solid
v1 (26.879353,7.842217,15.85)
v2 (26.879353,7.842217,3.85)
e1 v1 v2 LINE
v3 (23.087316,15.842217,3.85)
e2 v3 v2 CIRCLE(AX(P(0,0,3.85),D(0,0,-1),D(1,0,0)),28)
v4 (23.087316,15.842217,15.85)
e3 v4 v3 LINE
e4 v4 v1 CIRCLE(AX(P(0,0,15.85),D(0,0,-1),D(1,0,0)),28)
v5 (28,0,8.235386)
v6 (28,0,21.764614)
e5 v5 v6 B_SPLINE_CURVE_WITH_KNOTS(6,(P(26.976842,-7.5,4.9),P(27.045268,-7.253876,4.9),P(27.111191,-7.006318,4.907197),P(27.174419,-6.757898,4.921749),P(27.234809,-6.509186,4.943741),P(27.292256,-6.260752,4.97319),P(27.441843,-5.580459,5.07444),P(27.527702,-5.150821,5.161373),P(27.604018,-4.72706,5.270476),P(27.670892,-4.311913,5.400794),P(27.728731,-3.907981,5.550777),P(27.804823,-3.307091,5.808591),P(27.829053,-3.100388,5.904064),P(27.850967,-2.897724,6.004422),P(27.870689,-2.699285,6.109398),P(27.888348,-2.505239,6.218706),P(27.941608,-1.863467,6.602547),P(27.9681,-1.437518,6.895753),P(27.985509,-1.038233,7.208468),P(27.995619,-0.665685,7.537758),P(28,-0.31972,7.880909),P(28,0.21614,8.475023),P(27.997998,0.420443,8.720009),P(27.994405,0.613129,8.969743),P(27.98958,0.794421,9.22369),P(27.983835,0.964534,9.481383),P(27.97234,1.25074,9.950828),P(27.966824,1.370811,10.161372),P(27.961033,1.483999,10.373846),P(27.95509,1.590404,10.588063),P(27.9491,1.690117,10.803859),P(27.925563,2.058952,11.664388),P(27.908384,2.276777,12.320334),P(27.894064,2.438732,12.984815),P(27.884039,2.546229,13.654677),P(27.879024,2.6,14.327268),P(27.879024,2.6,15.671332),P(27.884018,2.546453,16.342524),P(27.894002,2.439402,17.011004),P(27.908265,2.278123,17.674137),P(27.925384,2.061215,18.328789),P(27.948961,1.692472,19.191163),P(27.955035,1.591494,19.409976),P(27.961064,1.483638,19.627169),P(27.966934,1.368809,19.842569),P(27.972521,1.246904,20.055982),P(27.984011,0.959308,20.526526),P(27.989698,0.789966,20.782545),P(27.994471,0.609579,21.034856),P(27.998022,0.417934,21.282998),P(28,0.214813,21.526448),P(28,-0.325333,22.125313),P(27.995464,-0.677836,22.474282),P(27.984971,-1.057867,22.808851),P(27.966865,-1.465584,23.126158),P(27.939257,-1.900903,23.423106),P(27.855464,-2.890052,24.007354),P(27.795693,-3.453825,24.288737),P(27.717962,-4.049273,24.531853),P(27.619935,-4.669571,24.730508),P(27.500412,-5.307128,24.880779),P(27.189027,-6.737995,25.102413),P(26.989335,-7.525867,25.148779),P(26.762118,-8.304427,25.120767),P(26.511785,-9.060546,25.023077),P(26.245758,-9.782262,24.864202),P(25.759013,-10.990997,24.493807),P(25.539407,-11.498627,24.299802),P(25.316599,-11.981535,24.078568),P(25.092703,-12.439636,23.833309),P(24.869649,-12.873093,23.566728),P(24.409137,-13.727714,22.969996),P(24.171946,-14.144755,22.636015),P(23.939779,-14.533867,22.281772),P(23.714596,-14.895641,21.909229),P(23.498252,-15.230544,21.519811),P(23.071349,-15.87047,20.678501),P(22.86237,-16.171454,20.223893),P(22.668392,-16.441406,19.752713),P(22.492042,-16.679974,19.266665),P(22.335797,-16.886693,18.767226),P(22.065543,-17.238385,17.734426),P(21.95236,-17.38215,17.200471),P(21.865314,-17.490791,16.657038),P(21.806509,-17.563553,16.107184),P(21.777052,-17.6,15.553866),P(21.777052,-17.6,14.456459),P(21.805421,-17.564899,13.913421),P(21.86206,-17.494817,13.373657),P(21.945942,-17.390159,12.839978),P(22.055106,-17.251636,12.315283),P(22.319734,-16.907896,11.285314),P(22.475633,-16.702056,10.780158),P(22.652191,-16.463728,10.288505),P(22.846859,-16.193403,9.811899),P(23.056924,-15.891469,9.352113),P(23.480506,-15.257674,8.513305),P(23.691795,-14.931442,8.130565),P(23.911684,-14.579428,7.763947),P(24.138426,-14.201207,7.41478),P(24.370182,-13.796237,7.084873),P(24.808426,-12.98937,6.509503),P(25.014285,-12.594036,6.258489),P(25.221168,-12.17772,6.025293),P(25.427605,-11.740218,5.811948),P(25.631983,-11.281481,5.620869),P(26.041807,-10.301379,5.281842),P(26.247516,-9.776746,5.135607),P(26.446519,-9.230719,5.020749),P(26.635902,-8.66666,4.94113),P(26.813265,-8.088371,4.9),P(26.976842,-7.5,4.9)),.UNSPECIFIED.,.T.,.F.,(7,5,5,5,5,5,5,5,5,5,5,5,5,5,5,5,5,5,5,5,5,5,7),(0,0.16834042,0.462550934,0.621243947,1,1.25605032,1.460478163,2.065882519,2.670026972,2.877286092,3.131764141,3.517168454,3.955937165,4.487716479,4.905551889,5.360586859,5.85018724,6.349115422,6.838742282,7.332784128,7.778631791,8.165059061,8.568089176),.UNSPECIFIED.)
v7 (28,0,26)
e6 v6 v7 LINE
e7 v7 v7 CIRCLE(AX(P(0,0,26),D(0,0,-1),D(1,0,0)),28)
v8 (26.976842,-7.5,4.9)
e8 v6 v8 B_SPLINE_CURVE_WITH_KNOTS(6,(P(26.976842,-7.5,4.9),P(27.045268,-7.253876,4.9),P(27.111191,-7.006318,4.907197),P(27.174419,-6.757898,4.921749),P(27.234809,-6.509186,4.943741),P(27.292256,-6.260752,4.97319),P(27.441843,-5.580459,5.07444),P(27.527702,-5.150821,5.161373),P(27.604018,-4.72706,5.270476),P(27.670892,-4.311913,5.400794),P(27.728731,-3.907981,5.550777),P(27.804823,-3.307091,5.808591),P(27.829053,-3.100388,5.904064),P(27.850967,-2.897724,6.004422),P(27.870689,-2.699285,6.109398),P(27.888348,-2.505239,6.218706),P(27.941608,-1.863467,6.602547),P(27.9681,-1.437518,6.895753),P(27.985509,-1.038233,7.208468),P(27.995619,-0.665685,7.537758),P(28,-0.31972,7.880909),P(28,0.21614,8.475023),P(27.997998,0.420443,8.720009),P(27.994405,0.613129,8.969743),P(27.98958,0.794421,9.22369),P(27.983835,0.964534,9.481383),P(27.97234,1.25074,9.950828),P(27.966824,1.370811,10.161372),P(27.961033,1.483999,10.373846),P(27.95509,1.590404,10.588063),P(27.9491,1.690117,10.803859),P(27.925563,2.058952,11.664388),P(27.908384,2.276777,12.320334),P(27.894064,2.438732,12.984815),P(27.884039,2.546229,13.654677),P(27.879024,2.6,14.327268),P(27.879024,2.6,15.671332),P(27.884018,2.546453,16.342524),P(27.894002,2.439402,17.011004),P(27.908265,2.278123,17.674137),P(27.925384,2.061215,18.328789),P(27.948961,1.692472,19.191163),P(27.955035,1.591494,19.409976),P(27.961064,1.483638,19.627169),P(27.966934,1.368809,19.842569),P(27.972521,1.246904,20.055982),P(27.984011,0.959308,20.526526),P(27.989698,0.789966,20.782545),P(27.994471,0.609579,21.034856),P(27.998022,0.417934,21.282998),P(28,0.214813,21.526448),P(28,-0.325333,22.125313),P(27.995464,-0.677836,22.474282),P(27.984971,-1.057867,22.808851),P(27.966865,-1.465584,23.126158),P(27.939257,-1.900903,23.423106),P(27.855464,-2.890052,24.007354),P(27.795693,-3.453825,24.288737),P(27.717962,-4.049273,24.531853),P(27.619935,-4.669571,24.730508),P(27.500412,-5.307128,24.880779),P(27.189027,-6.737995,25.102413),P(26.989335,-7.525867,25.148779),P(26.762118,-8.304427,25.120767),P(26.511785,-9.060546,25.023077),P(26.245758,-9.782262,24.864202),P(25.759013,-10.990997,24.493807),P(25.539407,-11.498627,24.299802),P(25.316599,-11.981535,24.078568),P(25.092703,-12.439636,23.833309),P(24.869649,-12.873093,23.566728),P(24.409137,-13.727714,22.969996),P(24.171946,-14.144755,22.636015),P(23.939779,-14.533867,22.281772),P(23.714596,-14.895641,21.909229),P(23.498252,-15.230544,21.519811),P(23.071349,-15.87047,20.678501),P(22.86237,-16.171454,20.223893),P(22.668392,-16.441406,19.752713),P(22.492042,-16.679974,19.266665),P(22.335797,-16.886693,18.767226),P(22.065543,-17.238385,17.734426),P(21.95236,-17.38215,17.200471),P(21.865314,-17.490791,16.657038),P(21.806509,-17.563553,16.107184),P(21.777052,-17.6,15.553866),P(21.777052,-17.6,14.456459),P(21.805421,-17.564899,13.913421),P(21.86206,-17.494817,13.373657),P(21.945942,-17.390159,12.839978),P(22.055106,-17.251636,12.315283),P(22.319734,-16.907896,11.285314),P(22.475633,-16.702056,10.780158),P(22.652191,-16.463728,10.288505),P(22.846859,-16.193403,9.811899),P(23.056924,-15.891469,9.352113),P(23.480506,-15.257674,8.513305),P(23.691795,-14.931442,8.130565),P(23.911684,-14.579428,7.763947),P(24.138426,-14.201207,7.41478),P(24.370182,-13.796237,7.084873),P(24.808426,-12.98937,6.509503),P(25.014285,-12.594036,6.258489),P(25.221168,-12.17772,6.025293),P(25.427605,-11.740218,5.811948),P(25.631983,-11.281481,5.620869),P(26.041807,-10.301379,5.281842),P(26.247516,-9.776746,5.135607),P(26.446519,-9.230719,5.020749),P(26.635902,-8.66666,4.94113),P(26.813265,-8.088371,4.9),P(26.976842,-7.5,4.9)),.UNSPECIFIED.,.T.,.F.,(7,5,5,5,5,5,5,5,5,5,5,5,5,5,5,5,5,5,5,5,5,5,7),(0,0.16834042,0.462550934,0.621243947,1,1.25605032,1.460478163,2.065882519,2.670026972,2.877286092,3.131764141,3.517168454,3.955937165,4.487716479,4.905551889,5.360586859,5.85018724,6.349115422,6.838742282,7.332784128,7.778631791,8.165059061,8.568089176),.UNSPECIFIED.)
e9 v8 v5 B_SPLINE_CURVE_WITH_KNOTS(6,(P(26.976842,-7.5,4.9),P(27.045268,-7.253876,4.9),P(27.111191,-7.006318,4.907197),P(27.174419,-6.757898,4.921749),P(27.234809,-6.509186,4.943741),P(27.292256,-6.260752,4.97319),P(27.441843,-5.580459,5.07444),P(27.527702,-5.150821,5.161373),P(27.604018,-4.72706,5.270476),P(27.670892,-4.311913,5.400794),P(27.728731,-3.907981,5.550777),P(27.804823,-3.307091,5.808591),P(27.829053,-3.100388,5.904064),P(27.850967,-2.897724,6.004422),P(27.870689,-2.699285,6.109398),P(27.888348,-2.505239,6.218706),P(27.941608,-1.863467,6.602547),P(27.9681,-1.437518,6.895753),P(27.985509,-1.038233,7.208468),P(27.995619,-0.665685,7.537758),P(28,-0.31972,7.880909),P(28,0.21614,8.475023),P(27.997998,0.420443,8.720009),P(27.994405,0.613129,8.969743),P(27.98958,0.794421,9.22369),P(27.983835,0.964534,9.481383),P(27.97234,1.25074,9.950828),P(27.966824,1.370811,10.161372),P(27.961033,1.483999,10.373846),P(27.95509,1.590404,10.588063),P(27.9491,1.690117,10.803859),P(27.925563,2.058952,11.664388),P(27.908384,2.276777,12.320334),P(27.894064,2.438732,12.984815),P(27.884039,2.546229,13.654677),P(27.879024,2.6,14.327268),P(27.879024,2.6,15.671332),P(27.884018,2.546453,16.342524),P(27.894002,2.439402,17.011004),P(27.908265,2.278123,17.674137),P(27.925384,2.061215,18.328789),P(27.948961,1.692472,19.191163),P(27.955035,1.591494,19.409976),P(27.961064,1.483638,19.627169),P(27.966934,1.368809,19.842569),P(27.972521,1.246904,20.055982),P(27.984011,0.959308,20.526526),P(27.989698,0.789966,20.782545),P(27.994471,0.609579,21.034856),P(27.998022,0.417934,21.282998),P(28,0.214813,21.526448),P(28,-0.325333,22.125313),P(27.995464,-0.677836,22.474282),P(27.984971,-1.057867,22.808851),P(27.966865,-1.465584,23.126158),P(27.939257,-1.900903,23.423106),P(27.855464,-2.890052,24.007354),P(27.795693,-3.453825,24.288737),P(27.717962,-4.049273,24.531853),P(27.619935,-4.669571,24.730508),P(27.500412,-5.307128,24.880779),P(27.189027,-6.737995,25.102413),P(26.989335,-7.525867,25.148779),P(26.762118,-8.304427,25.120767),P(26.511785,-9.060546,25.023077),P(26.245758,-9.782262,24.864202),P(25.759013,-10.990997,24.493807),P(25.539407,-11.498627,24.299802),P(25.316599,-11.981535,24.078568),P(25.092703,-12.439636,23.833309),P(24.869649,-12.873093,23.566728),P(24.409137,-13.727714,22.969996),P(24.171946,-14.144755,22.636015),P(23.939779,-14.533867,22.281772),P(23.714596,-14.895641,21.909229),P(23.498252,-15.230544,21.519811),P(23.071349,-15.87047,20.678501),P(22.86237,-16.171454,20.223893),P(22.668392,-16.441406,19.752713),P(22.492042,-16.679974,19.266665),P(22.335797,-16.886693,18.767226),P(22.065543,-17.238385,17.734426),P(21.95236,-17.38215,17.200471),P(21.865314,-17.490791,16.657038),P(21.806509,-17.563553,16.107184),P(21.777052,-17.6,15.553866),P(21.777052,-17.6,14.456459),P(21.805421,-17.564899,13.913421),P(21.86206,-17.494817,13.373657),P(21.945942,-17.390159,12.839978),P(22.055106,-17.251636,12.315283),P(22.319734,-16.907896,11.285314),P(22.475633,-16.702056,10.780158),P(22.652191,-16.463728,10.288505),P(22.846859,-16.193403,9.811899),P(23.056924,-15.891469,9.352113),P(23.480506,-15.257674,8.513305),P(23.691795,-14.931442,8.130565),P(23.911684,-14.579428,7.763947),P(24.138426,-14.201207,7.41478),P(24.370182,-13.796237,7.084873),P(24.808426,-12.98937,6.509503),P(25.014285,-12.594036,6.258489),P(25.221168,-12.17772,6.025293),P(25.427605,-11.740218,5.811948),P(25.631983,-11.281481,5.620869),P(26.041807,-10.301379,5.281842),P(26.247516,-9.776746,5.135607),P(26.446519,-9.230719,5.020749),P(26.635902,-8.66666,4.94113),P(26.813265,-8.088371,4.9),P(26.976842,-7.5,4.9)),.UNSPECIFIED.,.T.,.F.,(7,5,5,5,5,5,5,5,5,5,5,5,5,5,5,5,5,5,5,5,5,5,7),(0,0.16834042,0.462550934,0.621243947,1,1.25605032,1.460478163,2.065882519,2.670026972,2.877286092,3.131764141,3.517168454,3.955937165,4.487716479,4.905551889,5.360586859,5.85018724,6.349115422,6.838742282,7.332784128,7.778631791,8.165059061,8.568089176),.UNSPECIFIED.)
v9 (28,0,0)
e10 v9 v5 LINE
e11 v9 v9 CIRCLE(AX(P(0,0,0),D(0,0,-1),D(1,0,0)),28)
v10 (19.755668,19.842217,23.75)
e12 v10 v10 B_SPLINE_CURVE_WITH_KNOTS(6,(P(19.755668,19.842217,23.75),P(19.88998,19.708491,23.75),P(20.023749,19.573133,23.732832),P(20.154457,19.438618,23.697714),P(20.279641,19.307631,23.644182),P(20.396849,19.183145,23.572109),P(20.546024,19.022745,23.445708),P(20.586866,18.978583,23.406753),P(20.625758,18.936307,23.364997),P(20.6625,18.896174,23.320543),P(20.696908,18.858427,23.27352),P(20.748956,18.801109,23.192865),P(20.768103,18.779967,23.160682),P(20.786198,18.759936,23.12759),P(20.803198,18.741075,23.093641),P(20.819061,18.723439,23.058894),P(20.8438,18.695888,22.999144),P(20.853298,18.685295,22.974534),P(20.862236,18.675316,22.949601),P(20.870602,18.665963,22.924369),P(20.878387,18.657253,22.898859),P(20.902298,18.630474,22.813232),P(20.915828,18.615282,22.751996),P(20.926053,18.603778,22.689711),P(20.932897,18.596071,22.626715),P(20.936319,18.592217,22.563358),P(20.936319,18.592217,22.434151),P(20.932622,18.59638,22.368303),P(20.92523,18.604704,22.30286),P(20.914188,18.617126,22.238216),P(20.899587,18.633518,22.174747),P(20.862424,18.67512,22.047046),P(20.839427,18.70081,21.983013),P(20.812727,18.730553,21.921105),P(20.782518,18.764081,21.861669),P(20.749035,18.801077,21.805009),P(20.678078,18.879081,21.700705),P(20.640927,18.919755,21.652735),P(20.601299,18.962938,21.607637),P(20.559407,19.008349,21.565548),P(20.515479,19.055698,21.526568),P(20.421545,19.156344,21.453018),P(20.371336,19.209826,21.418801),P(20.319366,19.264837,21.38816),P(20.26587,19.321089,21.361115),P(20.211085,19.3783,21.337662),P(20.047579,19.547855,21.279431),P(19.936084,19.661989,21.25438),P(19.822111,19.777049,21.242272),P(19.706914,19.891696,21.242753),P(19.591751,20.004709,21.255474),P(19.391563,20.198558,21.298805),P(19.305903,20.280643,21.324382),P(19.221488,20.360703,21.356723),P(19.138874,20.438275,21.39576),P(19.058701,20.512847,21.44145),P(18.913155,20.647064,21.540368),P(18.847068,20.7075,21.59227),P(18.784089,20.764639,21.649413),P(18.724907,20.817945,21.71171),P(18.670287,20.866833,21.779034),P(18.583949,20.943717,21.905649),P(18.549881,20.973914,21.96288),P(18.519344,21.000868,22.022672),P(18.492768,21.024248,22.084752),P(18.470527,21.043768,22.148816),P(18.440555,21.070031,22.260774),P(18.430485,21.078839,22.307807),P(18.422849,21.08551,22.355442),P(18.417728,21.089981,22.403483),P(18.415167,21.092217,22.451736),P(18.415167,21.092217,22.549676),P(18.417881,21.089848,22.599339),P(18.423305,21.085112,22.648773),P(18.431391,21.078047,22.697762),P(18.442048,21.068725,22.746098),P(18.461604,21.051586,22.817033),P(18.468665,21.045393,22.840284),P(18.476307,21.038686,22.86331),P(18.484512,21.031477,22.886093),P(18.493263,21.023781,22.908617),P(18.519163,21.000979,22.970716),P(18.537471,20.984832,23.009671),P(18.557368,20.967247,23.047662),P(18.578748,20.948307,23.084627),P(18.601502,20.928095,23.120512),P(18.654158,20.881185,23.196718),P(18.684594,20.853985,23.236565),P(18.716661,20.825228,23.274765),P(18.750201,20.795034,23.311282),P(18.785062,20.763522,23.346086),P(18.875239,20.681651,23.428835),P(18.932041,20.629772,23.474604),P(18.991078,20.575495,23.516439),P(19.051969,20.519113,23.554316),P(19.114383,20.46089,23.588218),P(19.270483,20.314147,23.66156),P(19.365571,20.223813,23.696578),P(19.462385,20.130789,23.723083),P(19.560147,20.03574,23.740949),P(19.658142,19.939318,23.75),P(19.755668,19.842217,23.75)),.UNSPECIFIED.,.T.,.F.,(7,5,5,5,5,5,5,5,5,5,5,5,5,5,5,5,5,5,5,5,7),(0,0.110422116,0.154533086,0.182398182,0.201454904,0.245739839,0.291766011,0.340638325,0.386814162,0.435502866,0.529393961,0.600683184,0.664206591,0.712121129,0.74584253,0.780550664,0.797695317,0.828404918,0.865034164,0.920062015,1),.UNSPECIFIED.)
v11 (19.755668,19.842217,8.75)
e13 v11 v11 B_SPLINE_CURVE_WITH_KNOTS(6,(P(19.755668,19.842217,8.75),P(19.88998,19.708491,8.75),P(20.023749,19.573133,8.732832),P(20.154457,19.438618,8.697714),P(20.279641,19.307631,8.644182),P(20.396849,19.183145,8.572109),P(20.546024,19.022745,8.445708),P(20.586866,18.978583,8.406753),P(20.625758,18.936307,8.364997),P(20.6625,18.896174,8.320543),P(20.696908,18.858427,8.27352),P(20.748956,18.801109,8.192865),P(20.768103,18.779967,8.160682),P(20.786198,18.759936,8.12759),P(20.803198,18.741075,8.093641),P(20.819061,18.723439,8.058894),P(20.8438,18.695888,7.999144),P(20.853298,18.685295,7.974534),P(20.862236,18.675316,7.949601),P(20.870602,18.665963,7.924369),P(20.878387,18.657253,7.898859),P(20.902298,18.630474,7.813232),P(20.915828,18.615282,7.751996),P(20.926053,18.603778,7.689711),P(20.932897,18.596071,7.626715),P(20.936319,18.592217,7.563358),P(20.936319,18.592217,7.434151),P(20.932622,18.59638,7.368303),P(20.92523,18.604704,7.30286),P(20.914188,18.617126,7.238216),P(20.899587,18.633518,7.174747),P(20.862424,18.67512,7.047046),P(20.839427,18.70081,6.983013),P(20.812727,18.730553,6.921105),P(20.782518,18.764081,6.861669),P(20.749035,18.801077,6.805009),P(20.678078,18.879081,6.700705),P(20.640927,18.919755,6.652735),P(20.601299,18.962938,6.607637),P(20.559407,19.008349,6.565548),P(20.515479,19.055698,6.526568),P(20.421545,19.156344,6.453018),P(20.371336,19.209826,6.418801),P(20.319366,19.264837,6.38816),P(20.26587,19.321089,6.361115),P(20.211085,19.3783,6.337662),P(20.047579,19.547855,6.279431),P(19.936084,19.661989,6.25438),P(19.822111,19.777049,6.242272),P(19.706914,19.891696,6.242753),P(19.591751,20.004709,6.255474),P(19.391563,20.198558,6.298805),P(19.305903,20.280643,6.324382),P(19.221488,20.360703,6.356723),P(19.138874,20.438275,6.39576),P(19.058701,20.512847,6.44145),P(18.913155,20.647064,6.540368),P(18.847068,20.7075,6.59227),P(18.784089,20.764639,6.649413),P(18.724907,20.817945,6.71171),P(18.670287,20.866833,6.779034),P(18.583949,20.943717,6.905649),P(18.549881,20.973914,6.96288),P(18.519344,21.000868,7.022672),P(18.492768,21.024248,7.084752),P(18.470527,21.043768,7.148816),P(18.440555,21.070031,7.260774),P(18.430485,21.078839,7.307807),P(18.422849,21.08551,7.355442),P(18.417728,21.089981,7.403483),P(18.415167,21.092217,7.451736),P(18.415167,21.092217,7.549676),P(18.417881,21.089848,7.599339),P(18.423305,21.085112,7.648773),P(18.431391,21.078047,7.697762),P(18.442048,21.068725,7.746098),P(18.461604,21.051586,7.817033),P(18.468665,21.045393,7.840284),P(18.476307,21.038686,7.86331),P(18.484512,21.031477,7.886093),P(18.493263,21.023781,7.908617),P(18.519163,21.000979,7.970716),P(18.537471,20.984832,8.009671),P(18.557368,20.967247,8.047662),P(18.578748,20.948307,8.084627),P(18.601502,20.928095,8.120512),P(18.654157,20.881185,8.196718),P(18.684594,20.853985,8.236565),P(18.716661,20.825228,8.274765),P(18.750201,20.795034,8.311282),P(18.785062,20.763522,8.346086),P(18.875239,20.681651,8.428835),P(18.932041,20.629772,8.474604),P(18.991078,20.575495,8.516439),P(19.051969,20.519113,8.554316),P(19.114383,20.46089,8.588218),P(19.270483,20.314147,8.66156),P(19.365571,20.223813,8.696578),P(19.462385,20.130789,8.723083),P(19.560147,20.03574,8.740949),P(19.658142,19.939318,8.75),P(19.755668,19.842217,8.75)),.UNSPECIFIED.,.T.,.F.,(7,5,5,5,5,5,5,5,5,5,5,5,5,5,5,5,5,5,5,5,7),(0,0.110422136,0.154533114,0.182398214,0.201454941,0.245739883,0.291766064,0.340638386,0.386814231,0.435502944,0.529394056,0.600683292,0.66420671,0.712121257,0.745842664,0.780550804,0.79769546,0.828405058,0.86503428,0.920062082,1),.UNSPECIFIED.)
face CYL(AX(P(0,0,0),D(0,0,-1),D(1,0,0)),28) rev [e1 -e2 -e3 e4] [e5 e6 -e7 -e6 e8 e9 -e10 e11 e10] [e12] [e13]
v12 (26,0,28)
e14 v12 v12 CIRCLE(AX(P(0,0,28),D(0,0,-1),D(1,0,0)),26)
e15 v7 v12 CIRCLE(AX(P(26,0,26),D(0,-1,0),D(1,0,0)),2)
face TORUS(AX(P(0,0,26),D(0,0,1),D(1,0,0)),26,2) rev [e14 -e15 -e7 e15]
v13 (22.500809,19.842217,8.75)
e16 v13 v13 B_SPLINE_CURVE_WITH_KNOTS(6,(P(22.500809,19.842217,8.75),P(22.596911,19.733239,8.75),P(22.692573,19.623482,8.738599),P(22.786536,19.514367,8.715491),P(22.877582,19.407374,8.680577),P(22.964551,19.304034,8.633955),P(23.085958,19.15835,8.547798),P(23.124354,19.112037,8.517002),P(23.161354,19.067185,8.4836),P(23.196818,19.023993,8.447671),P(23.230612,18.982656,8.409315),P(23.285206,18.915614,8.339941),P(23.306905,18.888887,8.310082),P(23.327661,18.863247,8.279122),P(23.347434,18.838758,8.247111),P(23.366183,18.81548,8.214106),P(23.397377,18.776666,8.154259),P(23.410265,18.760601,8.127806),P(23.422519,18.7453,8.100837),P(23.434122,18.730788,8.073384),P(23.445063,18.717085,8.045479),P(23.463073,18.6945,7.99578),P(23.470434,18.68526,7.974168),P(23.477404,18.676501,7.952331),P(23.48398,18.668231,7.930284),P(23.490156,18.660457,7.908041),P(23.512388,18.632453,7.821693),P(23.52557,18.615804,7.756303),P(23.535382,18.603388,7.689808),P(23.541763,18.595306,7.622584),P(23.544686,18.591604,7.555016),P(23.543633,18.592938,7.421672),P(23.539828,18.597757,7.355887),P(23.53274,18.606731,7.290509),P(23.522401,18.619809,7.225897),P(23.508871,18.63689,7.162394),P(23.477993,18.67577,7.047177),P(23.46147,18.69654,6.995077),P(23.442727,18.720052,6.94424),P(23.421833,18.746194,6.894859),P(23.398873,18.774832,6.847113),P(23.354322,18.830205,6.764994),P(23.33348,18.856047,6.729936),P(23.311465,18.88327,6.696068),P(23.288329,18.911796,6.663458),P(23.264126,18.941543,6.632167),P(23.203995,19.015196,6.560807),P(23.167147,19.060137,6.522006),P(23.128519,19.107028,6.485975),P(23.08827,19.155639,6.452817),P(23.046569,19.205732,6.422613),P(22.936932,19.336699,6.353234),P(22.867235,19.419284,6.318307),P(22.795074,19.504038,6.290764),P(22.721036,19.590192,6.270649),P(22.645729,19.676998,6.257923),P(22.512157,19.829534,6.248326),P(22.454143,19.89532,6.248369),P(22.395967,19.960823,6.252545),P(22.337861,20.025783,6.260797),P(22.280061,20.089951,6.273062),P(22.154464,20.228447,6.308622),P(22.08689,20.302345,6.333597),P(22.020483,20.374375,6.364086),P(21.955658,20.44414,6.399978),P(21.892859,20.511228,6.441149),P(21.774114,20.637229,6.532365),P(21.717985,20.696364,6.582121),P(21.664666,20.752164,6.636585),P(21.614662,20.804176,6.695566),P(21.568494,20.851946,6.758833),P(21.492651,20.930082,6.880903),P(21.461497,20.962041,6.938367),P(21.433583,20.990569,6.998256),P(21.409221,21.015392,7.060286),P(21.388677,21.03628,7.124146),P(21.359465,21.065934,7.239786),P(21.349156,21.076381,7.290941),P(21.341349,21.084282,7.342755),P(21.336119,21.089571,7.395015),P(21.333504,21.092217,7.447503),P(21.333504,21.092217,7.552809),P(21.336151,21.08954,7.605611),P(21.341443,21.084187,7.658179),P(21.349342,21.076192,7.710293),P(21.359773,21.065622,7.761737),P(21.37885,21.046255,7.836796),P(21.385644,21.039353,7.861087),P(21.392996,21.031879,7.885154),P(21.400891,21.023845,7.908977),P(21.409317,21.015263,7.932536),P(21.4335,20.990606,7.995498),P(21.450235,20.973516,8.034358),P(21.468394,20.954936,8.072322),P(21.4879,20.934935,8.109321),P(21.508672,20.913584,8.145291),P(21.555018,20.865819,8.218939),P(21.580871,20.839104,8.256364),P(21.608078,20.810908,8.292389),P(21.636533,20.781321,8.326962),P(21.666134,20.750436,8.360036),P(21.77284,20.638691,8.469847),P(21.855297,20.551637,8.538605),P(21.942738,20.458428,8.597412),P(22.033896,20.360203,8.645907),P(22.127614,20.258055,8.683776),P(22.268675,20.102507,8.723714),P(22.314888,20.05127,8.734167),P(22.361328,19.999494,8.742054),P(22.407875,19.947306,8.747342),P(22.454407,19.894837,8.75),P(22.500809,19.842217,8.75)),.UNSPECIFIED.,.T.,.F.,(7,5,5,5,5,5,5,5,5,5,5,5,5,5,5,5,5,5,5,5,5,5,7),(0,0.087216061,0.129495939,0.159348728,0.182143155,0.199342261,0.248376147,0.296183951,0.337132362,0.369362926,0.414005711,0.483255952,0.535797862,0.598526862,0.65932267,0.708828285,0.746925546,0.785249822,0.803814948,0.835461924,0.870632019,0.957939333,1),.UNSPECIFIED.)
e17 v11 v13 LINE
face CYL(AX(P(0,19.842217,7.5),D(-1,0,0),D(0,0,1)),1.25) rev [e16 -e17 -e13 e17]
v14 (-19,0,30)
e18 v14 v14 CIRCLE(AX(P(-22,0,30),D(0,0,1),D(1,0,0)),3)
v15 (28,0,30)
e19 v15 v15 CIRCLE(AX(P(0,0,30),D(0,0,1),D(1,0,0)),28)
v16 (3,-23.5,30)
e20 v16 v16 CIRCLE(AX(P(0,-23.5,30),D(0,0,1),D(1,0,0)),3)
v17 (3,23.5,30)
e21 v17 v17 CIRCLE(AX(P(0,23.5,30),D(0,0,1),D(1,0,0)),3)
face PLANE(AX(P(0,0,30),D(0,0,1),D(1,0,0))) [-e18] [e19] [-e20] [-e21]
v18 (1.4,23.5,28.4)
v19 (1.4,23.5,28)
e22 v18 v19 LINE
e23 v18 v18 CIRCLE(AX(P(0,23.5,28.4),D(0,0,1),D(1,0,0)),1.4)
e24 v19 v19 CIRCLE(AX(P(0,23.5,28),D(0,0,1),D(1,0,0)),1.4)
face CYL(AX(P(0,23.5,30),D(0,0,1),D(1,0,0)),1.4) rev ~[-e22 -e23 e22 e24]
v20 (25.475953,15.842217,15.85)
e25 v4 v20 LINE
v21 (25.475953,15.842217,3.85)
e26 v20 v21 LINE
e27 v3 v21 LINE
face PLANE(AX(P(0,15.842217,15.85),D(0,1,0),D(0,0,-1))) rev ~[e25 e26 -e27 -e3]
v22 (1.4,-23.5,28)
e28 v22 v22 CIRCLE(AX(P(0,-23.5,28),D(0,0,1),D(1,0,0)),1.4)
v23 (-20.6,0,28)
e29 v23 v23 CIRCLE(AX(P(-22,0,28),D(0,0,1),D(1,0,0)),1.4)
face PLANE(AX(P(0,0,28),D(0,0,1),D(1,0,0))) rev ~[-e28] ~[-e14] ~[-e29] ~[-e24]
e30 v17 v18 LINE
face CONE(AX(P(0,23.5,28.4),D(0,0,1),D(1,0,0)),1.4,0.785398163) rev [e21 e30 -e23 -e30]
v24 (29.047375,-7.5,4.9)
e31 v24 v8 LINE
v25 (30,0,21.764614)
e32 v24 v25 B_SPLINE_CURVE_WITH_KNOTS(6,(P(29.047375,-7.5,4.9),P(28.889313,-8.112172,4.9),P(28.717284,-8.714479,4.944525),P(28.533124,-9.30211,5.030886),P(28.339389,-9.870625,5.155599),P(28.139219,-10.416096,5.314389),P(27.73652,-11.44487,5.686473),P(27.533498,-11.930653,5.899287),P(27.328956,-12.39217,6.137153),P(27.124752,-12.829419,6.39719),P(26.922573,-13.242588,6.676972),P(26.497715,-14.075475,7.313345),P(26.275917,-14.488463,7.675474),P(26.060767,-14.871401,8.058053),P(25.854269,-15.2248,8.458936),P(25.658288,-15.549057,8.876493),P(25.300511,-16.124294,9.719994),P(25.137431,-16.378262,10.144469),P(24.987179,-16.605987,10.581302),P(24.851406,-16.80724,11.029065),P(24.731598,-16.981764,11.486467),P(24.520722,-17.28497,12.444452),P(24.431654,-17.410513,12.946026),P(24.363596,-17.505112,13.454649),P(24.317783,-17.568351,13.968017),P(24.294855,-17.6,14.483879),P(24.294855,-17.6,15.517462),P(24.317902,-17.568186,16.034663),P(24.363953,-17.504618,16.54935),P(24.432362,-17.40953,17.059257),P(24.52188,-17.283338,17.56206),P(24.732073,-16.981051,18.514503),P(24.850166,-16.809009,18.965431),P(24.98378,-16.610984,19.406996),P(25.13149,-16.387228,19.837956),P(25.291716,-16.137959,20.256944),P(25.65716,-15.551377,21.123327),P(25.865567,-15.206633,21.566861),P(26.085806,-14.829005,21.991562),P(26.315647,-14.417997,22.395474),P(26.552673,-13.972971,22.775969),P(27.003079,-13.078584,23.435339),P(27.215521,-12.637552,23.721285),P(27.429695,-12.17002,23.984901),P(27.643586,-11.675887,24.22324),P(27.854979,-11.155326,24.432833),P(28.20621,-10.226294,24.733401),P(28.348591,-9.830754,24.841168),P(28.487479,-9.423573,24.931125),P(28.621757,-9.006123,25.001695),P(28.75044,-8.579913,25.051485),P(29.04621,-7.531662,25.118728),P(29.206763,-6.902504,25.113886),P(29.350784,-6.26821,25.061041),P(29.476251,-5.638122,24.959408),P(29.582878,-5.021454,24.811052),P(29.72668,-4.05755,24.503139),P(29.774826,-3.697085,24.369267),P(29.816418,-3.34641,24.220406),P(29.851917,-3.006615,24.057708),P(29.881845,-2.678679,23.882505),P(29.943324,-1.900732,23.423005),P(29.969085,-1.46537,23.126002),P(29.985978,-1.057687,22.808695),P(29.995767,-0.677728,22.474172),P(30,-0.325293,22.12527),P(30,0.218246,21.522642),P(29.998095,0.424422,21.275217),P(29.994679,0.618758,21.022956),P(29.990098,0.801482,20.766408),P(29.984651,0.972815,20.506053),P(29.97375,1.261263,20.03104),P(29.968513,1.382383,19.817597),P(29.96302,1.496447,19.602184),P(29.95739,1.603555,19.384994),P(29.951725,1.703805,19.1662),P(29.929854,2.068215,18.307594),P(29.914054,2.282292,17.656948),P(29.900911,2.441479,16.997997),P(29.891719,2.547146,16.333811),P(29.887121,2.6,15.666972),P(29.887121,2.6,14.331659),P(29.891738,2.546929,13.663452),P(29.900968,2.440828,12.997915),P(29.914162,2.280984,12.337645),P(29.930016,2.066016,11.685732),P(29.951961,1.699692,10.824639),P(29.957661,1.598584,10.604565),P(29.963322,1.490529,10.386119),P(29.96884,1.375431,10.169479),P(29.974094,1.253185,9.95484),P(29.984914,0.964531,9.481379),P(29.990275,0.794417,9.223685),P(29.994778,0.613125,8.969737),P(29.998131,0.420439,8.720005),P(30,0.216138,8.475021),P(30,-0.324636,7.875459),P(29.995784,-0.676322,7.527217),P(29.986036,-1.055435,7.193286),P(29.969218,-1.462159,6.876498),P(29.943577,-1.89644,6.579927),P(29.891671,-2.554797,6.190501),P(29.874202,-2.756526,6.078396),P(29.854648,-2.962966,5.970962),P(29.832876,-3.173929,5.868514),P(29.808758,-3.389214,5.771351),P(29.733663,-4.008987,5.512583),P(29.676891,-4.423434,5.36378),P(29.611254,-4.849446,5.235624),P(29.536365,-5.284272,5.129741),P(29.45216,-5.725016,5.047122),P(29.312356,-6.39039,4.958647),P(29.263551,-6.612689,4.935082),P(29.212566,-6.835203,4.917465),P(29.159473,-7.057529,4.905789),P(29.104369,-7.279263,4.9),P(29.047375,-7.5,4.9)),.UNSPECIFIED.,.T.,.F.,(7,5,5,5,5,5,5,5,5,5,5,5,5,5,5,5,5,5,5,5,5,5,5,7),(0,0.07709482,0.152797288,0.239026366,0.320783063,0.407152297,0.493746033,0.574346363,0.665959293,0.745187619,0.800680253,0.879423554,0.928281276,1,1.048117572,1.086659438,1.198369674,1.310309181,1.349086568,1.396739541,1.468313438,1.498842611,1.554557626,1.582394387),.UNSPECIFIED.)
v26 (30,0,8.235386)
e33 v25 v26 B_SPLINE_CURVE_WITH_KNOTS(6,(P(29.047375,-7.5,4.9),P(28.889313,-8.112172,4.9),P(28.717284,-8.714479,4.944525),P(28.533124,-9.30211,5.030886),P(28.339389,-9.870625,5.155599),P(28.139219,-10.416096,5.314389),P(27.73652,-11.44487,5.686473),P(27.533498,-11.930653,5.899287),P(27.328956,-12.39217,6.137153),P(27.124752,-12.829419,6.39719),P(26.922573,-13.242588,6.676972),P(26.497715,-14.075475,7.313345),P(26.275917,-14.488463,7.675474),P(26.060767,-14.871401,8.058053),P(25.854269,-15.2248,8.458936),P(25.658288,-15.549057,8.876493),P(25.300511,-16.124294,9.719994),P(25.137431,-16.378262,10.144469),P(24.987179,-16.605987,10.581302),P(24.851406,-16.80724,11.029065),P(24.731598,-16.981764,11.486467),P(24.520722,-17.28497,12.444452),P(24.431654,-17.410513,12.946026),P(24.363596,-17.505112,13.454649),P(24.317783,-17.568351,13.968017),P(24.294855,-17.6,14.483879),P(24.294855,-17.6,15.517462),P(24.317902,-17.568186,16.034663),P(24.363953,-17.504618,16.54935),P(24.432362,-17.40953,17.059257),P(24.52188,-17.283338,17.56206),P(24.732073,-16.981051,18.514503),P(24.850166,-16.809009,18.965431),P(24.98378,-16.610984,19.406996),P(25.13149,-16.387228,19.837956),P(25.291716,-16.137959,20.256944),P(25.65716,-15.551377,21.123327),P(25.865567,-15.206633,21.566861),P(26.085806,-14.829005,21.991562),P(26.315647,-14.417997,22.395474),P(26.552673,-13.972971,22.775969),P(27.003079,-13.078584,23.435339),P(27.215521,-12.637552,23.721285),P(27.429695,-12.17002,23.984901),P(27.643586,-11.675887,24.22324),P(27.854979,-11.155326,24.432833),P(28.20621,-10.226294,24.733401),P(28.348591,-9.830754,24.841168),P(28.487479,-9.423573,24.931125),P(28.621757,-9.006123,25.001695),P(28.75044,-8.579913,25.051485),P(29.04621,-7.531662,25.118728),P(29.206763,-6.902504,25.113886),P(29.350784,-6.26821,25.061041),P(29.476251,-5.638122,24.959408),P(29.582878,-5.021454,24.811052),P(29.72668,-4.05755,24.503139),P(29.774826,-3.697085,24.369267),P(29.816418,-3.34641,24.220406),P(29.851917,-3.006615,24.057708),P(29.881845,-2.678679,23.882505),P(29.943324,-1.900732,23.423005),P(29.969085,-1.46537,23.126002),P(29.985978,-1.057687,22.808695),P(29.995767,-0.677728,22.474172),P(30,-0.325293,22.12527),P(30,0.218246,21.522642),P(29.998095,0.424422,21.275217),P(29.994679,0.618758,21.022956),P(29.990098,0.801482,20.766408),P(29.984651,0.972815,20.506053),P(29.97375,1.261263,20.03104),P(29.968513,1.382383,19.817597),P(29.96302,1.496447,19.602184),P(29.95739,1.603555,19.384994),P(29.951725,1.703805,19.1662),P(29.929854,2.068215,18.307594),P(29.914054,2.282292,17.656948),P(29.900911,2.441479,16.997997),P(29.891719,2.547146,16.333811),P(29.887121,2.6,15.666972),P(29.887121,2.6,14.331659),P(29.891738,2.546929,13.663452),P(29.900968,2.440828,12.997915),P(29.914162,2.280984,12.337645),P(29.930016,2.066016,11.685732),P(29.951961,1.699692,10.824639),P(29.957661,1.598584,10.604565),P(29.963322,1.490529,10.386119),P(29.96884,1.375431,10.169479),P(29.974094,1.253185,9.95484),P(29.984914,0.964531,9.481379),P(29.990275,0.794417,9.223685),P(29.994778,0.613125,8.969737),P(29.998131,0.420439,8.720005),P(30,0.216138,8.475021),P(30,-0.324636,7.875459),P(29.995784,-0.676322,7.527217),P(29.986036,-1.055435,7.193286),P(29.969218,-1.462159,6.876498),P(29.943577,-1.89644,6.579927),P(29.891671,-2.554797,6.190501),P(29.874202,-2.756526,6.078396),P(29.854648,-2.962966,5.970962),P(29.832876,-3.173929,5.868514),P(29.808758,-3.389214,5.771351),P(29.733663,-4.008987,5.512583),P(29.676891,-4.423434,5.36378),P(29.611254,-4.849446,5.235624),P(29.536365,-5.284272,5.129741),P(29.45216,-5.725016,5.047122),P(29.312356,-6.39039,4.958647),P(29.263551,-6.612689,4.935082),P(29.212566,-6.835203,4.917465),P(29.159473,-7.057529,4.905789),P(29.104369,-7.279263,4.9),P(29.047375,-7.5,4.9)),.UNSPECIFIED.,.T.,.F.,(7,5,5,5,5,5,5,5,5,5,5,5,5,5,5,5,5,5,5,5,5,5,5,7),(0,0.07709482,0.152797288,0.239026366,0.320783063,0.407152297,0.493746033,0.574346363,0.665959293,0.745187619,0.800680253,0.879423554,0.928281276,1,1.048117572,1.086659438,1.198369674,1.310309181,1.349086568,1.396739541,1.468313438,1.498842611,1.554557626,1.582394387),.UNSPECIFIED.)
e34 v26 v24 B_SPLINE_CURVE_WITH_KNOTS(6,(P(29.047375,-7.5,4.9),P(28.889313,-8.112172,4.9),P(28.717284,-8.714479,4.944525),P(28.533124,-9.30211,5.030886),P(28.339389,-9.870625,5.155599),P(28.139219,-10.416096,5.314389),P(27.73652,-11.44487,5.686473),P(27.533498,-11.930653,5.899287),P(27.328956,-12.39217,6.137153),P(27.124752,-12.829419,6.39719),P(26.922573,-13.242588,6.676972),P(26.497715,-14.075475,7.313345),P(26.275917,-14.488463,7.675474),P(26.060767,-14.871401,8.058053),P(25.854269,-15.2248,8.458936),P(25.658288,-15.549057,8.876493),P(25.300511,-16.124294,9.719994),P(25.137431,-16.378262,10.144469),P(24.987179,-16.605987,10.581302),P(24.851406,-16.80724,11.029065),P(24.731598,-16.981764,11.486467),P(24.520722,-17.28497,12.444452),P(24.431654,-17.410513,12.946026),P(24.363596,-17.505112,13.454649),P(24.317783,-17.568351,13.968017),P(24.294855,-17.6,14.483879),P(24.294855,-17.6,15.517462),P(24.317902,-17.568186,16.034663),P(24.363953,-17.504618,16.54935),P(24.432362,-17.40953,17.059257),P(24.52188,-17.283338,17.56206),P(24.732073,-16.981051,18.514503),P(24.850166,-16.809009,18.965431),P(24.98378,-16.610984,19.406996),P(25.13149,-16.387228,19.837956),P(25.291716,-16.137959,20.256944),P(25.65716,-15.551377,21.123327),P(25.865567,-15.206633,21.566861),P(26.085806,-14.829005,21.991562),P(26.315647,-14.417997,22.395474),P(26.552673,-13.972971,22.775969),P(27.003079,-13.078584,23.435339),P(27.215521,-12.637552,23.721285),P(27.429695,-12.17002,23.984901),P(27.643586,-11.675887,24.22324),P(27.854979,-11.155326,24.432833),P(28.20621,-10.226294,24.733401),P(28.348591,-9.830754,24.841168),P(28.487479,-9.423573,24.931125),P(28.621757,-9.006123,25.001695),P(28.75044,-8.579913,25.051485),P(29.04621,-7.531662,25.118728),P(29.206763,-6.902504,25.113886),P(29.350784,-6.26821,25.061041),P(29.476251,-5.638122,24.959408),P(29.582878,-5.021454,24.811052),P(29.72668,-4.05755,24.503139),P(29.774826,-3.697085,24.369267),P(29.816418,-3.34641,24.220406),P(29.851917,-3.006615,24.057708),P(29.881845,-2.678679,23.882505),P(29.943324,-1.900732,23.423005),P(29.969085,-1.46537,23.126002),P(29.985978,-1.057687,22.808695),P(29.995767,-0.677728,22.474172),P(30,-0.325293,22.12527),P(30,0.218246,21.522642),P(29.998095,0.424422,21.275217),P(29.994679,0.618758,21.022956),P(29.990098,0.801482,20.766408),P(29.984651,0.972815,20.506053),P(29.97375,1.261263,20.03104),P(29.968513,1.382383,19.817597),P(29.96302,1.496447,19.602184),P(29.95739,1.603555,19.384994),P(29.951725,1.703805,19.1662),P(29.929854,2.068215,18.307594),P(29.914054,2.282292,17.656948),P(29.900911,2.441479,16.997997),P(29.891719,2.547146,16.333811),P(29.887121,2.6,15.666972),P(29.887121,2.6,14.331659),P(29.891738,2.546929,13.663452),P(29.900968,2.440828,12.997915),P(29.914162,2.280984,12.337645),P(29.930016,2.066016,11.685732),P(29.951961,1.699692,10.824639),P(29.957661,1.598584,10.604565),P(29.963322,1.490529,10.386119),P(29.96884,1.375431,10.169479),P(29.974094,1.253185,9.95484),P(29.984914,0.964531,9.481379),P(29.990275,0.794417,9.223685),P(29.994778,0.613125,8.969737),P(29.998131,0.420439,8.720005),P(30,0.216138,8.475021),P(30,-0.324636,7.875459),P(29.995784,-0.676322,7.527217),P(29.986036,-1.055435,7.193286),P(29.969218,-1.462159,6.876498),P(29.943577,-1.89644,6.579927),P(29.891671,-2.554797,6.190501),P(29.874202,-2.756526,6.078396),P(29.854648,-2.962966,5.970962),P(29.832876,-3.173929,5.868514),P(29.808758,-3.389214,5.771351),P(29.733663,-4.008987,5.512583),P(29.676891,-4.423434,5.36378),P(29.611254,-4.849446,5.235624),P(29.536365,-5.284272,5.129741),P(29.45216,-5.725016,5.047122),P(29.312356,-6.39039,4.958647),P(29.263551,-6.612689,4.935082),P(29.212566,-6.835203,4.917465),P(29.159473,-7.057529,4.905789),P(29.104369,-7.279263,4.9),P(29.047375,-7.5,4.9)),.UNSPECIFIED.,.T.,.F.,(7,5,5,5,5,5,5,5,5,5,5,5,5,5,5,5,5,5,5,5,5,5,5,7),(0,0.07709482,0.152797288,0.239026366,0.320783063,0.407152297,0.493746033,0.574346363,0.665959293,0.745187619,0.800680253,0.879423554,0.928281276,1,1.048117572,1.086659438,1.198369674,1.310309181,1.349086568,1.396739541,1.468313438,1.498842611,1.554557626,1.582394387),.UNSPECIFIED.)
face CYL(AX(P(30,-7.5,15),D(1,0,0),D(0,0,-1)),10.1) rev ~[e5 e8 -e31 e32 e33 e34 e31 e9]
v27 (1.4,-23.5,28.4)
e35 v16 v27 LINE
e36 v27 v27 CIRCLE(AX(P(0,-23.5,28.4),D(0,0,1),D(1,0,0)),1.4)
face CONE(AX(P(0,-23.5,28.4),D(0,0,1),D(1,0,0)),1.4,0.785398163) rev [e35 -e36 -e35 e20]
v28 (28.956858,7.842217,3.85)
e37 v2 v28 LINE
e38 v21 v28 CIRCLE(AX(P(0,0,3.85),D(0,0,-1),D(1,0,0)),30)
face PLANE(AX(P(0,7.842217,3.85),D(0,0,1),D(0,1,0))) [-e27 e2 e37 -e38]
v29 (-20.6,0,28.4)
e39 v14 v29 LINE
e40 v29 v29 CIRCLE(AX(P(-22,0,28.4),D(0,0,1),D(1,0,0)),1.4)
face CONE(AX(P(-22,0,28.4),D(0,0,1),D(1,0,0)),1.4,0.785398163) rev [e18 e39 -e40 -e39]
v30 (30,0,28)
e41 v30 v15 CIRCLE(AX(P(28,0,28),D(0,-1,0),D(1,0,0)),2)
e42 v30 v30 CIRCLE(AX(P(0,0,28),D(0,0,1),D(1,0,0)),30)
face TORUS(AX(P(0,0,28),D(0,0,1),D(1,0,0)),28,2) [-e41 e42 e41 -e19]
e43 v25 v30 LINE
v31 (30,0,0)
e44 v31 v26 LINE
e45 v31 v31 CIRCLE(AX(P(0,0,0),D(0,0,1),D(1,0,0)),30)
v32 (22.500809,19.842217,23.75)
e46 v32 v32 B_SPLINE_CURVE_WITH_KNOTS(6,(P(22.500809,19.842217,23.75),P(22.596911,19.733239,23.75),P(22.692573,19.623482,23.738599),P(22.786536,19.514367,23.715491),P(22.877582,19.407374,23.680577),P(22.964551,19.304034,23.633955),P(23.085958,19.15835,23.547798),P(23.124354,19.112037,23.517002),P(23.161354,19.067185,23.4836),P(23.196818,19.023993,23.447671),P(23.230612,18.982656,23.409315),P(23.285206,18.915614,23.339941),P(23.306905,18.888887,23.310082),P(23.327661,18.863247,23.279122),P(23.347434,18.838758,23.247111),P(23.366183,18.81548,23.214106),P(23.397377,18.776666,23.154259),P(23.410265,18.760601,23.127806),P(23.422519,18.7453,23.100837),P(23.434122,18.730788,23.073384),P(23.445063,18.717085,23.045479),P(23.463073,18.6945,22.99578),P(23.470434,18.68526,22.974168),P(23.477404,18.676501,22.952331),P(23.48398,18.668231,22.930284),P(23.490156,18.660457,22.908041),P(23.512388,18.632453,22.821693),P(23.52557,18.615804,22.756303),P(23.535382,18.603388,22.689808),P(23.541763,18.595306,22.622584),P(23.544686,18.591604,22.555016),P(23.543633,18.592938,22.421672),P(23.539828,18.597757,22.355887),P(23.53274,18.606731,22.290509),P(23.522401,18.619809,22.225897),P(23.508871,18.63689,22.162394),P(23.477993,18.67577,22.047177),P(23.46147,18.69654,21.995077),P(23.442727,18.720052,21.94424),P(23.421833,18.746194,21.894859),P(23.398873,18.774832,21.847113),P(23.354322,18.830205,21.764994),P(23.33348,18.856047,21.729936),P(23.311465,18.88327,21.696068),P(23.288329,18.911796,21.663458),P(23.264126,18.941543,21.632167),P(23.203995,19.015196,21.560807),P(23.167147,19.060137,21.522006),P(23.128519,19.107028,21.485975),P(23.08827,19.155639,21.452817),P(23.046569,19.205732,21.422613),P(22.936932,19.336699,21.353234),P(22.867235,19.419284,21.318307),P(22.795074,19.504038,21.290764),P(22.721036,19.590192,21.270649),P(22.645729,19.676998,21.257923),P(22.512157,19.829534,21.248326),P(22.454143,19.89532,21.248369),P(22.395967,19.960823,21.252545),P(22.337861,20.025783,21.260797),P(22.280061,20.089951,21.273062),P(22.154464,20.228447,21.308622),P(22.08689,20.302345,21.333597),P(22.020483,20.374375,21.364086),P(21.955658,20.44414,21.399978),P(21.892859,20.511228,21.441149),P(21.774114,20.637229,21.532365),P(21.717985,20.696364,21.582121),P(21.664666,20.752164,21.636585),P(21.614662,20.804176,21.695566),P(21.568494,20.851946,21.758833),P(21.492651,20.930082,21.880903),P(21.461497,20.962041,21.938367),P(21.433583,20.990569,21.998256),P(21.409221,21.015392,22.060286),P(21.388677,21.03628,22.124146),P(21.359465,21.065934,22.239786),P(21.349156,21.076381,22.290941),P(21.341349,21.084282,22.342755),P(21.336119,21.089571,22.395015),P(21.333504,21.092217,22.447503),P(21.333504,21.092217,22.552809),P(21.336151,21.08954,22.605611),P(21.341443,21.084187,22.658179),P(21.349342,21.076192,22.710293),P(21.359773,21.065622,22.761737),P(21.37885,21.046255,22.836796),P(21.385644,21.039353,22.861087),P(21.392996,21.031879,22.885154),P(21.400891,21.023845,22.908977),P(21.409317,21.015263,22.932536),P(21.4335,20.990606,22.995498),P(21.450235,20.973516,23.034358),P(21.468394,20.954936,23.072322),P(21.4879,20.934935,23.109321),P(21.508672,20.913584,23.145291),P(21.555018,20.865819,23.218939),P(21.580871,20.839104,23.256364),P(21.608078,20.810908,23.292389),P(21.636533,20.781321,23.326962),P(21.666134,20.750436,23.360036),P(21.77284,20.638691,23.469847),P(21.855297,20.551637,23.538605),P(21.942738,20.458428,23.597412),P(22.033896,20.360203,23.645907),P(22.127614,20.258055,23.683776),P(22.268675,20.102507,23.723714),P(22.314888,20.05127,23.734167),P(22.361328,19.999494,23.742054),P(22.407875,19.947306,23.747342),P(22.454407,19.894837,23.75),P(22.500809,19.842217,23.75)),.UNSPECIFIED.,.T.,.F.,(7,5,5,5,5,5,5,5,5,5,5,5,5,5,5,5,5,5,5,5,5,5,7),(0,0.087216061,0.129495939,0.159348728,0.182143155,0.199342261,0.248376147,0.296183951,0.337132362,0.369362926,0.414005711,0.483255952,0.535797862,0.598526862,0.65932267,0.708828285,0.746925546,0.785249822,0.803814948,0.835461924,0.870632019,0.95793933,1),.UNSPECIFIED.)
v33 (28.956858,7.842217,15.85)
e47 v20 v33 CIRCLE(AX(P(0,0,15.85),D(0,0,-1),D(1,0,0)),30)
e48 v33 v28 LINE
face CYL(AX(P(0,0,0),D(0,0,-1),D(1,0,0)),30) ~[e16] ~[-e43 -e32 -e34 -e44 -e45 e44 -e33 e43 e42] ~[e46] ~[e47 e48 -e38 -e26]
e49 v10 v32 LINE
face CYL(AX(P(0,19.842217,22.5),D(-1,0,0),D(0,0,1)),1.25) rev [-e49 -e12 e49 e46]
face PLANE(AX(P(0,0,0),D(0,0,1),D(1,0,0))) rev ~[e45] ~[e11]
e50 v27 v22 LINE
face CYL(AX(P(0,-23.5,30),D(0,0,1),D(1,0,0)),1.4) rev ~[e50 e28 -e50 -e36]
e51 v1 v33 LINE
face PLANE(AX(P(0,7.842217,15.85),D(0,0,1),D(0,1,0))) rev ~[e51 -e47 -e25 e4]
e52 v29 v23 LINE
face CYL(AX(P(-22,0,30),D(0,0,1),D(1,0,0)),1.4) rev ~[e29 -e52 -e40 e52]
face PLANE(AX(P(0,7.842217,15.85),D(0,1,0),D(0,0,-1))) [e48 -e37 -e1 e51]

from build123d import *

# Parameters (mm, degrees)
CROQUIS1_R              = 30
SALIENTE_EXTRUIR1_DEPTH = 30
VACIADO1_T              = -2
REDONDEO1_R             = 2
CORTAR_EXTRUIR1_REACH   = 75.485
CROQUIS3_R              = 10.1
CORTAR_EXTRUIR2_REACH   = 53.962
CROQUIS5_R              = 1.4
CHAFL_N1_SIZE           = 1.6
CROQUIS11_R             = 1.25
CROQUIS11_W             = 12
CROQUIS11_H             = 8
CORTAR_EXTRUIR3_DEPTH   = 52.961524343


with BuildPart() as part:
    # Croquis1 → Saliente-Extruir1 (new body)
    with BuildSketch(Plane.XY):
        Circle(CROQUIS1_R)
    extrude(amount=SALIENTE_EXTRUIR1_DEPTH)

    # Vaciado1
    vaciado1_openings = [part.faces().sort_by_distance(p)[0] for p in [
        (0, 0, 0),
    ]]
    offset(amount=VACIADO1_T, openings=vaciado1_openings, kind=Kind.INTERSECTION)

    # Redondeo1
    redondeo1_edges = [part.edges().sort_by_distance(p)[0] for p in [
        (-30, 0, 30),
        (-28, 0, 28),
    ]]
    fillet(redondeo1_edges, radius=REDONDEO1_R)

    # Croquis3 → Cortar-Extruir1 (cut, up to next)
    with BuildSketch(Plane(origin=(30, 0, 30), x_dir=(0, 0, -1), z_dir=(1, 0, 0)), mode=Mode.PRIVATE) as cortar_extruir1_sk1:
        with Locations((15, -7.5)):
            Circle(CROQUIS3_R)
    cortar_extruir1_tool1 = extrude(cortar_extruir1_sk1.sketch, amount=-CORTAR_EXTRUIR1_REACH, mode=Mode.PRIVATE) & part.part
    add(cortar_extruir1_tool1.solids().sort_by_distance((30, -7.5, 15))[0], mode=Mode.SUBTRACT)

    # Croquis5 → Cortar-Extruir2 (cut, up to next)
    with BuildSketch(Plane.XY.offset(30), mode=Mode.PRIVATE) as cortar_extruir2_sk1:
        with Locations((0, 23.5)):
            Circle(CROQUIS5_R)
    cortar_extruir2_tool1 = extrude(cortar_extruir2_sk1.sketch, amount=-CORTAR_EXTRUIR2_REACH, mode=Mode.PRIVATE) & part.part
    # Croquis5 → Cortar-Extruir2 (cut, up to next)
    with BuildSketch(Plane.XY.offset(30), mode=Mode.PRIVATE) as cortar_extruir2_sk2:
        with Locations((-22, 0)):
            Circle(CROQUIS5_R)
    cortar_extruir2_tool2 = extrude(cortar_extruir2_sk2.sketch, amount=-CORTAR_EXTRUIR2_REACH, mode=Mode.PRIVATE) & part.part
    # Croquis5 → Cortar-Extruir2 (cut, up to next)
    with BuildSketch(Plane.XY.offset(30), mode=Mode.PRIVATE) as cortar_extruir2_sk3:
        with Locations((0, -23.5)):
            Circle(CROQUIS5_R)
    cortar_extruir2_tool3 = extrude(cortar_extruir2_sk3.sketch, amount=-CORTAR_EXTRUIR2_REACH, mode=Mode.PRIVATE) & part.part
    add(cortar_extruir2_tool1.solids().sort_by_distance((0, 23.5, 30))[0], mode=Mode.SUBTRACT)
    add(cortar_extruir2_tool2.solids().sort_by_distance((-22, 0, 30))[0], mode=Mode.SUBTRACT)
    add(cortar_extruir2_tool3.solids().sort_by_distance((0, -23.5, 30))[0], mode=Mode.SUBTRACT)

    # Chaflán1
    chafl_n1_edges = [part.edges().sort_by_distance(p)[0] for p in [
        (-1.4, 23.5, 30),
        (-23.4, 0, 30),
        (-1.4, -23.5, 30),
    ]]
    chamfer(chafl_n1_edges, length=CHAFL_N1_SIZE)

    # Croquis11 → Cortar-Extruir3 (cut, through all)
    with BuildSketch(Plane(origin=(0, 0, 0), x_dir=(0, 0, -1), z_dir=(1, 0, 0))):
        with Locations(Location((-22.5, 19.842217067, 0), (0, 0, 180))):
            Circle(CROQUIS11_R)
        with Locations(Location((-7.5, 19.842217067, 0), (0, 0, 180))):
            Circle(CROQUIS11_R)
        with Locations((-9.85, 11.842217067)):
            Rectangle(CROQUIS11_W, CROQUIS11_H)
    extrude(amount=CORTAR_EXTRUIR3_DEPTH, mode=Mode.SUBTRACT)


solid = part.part
